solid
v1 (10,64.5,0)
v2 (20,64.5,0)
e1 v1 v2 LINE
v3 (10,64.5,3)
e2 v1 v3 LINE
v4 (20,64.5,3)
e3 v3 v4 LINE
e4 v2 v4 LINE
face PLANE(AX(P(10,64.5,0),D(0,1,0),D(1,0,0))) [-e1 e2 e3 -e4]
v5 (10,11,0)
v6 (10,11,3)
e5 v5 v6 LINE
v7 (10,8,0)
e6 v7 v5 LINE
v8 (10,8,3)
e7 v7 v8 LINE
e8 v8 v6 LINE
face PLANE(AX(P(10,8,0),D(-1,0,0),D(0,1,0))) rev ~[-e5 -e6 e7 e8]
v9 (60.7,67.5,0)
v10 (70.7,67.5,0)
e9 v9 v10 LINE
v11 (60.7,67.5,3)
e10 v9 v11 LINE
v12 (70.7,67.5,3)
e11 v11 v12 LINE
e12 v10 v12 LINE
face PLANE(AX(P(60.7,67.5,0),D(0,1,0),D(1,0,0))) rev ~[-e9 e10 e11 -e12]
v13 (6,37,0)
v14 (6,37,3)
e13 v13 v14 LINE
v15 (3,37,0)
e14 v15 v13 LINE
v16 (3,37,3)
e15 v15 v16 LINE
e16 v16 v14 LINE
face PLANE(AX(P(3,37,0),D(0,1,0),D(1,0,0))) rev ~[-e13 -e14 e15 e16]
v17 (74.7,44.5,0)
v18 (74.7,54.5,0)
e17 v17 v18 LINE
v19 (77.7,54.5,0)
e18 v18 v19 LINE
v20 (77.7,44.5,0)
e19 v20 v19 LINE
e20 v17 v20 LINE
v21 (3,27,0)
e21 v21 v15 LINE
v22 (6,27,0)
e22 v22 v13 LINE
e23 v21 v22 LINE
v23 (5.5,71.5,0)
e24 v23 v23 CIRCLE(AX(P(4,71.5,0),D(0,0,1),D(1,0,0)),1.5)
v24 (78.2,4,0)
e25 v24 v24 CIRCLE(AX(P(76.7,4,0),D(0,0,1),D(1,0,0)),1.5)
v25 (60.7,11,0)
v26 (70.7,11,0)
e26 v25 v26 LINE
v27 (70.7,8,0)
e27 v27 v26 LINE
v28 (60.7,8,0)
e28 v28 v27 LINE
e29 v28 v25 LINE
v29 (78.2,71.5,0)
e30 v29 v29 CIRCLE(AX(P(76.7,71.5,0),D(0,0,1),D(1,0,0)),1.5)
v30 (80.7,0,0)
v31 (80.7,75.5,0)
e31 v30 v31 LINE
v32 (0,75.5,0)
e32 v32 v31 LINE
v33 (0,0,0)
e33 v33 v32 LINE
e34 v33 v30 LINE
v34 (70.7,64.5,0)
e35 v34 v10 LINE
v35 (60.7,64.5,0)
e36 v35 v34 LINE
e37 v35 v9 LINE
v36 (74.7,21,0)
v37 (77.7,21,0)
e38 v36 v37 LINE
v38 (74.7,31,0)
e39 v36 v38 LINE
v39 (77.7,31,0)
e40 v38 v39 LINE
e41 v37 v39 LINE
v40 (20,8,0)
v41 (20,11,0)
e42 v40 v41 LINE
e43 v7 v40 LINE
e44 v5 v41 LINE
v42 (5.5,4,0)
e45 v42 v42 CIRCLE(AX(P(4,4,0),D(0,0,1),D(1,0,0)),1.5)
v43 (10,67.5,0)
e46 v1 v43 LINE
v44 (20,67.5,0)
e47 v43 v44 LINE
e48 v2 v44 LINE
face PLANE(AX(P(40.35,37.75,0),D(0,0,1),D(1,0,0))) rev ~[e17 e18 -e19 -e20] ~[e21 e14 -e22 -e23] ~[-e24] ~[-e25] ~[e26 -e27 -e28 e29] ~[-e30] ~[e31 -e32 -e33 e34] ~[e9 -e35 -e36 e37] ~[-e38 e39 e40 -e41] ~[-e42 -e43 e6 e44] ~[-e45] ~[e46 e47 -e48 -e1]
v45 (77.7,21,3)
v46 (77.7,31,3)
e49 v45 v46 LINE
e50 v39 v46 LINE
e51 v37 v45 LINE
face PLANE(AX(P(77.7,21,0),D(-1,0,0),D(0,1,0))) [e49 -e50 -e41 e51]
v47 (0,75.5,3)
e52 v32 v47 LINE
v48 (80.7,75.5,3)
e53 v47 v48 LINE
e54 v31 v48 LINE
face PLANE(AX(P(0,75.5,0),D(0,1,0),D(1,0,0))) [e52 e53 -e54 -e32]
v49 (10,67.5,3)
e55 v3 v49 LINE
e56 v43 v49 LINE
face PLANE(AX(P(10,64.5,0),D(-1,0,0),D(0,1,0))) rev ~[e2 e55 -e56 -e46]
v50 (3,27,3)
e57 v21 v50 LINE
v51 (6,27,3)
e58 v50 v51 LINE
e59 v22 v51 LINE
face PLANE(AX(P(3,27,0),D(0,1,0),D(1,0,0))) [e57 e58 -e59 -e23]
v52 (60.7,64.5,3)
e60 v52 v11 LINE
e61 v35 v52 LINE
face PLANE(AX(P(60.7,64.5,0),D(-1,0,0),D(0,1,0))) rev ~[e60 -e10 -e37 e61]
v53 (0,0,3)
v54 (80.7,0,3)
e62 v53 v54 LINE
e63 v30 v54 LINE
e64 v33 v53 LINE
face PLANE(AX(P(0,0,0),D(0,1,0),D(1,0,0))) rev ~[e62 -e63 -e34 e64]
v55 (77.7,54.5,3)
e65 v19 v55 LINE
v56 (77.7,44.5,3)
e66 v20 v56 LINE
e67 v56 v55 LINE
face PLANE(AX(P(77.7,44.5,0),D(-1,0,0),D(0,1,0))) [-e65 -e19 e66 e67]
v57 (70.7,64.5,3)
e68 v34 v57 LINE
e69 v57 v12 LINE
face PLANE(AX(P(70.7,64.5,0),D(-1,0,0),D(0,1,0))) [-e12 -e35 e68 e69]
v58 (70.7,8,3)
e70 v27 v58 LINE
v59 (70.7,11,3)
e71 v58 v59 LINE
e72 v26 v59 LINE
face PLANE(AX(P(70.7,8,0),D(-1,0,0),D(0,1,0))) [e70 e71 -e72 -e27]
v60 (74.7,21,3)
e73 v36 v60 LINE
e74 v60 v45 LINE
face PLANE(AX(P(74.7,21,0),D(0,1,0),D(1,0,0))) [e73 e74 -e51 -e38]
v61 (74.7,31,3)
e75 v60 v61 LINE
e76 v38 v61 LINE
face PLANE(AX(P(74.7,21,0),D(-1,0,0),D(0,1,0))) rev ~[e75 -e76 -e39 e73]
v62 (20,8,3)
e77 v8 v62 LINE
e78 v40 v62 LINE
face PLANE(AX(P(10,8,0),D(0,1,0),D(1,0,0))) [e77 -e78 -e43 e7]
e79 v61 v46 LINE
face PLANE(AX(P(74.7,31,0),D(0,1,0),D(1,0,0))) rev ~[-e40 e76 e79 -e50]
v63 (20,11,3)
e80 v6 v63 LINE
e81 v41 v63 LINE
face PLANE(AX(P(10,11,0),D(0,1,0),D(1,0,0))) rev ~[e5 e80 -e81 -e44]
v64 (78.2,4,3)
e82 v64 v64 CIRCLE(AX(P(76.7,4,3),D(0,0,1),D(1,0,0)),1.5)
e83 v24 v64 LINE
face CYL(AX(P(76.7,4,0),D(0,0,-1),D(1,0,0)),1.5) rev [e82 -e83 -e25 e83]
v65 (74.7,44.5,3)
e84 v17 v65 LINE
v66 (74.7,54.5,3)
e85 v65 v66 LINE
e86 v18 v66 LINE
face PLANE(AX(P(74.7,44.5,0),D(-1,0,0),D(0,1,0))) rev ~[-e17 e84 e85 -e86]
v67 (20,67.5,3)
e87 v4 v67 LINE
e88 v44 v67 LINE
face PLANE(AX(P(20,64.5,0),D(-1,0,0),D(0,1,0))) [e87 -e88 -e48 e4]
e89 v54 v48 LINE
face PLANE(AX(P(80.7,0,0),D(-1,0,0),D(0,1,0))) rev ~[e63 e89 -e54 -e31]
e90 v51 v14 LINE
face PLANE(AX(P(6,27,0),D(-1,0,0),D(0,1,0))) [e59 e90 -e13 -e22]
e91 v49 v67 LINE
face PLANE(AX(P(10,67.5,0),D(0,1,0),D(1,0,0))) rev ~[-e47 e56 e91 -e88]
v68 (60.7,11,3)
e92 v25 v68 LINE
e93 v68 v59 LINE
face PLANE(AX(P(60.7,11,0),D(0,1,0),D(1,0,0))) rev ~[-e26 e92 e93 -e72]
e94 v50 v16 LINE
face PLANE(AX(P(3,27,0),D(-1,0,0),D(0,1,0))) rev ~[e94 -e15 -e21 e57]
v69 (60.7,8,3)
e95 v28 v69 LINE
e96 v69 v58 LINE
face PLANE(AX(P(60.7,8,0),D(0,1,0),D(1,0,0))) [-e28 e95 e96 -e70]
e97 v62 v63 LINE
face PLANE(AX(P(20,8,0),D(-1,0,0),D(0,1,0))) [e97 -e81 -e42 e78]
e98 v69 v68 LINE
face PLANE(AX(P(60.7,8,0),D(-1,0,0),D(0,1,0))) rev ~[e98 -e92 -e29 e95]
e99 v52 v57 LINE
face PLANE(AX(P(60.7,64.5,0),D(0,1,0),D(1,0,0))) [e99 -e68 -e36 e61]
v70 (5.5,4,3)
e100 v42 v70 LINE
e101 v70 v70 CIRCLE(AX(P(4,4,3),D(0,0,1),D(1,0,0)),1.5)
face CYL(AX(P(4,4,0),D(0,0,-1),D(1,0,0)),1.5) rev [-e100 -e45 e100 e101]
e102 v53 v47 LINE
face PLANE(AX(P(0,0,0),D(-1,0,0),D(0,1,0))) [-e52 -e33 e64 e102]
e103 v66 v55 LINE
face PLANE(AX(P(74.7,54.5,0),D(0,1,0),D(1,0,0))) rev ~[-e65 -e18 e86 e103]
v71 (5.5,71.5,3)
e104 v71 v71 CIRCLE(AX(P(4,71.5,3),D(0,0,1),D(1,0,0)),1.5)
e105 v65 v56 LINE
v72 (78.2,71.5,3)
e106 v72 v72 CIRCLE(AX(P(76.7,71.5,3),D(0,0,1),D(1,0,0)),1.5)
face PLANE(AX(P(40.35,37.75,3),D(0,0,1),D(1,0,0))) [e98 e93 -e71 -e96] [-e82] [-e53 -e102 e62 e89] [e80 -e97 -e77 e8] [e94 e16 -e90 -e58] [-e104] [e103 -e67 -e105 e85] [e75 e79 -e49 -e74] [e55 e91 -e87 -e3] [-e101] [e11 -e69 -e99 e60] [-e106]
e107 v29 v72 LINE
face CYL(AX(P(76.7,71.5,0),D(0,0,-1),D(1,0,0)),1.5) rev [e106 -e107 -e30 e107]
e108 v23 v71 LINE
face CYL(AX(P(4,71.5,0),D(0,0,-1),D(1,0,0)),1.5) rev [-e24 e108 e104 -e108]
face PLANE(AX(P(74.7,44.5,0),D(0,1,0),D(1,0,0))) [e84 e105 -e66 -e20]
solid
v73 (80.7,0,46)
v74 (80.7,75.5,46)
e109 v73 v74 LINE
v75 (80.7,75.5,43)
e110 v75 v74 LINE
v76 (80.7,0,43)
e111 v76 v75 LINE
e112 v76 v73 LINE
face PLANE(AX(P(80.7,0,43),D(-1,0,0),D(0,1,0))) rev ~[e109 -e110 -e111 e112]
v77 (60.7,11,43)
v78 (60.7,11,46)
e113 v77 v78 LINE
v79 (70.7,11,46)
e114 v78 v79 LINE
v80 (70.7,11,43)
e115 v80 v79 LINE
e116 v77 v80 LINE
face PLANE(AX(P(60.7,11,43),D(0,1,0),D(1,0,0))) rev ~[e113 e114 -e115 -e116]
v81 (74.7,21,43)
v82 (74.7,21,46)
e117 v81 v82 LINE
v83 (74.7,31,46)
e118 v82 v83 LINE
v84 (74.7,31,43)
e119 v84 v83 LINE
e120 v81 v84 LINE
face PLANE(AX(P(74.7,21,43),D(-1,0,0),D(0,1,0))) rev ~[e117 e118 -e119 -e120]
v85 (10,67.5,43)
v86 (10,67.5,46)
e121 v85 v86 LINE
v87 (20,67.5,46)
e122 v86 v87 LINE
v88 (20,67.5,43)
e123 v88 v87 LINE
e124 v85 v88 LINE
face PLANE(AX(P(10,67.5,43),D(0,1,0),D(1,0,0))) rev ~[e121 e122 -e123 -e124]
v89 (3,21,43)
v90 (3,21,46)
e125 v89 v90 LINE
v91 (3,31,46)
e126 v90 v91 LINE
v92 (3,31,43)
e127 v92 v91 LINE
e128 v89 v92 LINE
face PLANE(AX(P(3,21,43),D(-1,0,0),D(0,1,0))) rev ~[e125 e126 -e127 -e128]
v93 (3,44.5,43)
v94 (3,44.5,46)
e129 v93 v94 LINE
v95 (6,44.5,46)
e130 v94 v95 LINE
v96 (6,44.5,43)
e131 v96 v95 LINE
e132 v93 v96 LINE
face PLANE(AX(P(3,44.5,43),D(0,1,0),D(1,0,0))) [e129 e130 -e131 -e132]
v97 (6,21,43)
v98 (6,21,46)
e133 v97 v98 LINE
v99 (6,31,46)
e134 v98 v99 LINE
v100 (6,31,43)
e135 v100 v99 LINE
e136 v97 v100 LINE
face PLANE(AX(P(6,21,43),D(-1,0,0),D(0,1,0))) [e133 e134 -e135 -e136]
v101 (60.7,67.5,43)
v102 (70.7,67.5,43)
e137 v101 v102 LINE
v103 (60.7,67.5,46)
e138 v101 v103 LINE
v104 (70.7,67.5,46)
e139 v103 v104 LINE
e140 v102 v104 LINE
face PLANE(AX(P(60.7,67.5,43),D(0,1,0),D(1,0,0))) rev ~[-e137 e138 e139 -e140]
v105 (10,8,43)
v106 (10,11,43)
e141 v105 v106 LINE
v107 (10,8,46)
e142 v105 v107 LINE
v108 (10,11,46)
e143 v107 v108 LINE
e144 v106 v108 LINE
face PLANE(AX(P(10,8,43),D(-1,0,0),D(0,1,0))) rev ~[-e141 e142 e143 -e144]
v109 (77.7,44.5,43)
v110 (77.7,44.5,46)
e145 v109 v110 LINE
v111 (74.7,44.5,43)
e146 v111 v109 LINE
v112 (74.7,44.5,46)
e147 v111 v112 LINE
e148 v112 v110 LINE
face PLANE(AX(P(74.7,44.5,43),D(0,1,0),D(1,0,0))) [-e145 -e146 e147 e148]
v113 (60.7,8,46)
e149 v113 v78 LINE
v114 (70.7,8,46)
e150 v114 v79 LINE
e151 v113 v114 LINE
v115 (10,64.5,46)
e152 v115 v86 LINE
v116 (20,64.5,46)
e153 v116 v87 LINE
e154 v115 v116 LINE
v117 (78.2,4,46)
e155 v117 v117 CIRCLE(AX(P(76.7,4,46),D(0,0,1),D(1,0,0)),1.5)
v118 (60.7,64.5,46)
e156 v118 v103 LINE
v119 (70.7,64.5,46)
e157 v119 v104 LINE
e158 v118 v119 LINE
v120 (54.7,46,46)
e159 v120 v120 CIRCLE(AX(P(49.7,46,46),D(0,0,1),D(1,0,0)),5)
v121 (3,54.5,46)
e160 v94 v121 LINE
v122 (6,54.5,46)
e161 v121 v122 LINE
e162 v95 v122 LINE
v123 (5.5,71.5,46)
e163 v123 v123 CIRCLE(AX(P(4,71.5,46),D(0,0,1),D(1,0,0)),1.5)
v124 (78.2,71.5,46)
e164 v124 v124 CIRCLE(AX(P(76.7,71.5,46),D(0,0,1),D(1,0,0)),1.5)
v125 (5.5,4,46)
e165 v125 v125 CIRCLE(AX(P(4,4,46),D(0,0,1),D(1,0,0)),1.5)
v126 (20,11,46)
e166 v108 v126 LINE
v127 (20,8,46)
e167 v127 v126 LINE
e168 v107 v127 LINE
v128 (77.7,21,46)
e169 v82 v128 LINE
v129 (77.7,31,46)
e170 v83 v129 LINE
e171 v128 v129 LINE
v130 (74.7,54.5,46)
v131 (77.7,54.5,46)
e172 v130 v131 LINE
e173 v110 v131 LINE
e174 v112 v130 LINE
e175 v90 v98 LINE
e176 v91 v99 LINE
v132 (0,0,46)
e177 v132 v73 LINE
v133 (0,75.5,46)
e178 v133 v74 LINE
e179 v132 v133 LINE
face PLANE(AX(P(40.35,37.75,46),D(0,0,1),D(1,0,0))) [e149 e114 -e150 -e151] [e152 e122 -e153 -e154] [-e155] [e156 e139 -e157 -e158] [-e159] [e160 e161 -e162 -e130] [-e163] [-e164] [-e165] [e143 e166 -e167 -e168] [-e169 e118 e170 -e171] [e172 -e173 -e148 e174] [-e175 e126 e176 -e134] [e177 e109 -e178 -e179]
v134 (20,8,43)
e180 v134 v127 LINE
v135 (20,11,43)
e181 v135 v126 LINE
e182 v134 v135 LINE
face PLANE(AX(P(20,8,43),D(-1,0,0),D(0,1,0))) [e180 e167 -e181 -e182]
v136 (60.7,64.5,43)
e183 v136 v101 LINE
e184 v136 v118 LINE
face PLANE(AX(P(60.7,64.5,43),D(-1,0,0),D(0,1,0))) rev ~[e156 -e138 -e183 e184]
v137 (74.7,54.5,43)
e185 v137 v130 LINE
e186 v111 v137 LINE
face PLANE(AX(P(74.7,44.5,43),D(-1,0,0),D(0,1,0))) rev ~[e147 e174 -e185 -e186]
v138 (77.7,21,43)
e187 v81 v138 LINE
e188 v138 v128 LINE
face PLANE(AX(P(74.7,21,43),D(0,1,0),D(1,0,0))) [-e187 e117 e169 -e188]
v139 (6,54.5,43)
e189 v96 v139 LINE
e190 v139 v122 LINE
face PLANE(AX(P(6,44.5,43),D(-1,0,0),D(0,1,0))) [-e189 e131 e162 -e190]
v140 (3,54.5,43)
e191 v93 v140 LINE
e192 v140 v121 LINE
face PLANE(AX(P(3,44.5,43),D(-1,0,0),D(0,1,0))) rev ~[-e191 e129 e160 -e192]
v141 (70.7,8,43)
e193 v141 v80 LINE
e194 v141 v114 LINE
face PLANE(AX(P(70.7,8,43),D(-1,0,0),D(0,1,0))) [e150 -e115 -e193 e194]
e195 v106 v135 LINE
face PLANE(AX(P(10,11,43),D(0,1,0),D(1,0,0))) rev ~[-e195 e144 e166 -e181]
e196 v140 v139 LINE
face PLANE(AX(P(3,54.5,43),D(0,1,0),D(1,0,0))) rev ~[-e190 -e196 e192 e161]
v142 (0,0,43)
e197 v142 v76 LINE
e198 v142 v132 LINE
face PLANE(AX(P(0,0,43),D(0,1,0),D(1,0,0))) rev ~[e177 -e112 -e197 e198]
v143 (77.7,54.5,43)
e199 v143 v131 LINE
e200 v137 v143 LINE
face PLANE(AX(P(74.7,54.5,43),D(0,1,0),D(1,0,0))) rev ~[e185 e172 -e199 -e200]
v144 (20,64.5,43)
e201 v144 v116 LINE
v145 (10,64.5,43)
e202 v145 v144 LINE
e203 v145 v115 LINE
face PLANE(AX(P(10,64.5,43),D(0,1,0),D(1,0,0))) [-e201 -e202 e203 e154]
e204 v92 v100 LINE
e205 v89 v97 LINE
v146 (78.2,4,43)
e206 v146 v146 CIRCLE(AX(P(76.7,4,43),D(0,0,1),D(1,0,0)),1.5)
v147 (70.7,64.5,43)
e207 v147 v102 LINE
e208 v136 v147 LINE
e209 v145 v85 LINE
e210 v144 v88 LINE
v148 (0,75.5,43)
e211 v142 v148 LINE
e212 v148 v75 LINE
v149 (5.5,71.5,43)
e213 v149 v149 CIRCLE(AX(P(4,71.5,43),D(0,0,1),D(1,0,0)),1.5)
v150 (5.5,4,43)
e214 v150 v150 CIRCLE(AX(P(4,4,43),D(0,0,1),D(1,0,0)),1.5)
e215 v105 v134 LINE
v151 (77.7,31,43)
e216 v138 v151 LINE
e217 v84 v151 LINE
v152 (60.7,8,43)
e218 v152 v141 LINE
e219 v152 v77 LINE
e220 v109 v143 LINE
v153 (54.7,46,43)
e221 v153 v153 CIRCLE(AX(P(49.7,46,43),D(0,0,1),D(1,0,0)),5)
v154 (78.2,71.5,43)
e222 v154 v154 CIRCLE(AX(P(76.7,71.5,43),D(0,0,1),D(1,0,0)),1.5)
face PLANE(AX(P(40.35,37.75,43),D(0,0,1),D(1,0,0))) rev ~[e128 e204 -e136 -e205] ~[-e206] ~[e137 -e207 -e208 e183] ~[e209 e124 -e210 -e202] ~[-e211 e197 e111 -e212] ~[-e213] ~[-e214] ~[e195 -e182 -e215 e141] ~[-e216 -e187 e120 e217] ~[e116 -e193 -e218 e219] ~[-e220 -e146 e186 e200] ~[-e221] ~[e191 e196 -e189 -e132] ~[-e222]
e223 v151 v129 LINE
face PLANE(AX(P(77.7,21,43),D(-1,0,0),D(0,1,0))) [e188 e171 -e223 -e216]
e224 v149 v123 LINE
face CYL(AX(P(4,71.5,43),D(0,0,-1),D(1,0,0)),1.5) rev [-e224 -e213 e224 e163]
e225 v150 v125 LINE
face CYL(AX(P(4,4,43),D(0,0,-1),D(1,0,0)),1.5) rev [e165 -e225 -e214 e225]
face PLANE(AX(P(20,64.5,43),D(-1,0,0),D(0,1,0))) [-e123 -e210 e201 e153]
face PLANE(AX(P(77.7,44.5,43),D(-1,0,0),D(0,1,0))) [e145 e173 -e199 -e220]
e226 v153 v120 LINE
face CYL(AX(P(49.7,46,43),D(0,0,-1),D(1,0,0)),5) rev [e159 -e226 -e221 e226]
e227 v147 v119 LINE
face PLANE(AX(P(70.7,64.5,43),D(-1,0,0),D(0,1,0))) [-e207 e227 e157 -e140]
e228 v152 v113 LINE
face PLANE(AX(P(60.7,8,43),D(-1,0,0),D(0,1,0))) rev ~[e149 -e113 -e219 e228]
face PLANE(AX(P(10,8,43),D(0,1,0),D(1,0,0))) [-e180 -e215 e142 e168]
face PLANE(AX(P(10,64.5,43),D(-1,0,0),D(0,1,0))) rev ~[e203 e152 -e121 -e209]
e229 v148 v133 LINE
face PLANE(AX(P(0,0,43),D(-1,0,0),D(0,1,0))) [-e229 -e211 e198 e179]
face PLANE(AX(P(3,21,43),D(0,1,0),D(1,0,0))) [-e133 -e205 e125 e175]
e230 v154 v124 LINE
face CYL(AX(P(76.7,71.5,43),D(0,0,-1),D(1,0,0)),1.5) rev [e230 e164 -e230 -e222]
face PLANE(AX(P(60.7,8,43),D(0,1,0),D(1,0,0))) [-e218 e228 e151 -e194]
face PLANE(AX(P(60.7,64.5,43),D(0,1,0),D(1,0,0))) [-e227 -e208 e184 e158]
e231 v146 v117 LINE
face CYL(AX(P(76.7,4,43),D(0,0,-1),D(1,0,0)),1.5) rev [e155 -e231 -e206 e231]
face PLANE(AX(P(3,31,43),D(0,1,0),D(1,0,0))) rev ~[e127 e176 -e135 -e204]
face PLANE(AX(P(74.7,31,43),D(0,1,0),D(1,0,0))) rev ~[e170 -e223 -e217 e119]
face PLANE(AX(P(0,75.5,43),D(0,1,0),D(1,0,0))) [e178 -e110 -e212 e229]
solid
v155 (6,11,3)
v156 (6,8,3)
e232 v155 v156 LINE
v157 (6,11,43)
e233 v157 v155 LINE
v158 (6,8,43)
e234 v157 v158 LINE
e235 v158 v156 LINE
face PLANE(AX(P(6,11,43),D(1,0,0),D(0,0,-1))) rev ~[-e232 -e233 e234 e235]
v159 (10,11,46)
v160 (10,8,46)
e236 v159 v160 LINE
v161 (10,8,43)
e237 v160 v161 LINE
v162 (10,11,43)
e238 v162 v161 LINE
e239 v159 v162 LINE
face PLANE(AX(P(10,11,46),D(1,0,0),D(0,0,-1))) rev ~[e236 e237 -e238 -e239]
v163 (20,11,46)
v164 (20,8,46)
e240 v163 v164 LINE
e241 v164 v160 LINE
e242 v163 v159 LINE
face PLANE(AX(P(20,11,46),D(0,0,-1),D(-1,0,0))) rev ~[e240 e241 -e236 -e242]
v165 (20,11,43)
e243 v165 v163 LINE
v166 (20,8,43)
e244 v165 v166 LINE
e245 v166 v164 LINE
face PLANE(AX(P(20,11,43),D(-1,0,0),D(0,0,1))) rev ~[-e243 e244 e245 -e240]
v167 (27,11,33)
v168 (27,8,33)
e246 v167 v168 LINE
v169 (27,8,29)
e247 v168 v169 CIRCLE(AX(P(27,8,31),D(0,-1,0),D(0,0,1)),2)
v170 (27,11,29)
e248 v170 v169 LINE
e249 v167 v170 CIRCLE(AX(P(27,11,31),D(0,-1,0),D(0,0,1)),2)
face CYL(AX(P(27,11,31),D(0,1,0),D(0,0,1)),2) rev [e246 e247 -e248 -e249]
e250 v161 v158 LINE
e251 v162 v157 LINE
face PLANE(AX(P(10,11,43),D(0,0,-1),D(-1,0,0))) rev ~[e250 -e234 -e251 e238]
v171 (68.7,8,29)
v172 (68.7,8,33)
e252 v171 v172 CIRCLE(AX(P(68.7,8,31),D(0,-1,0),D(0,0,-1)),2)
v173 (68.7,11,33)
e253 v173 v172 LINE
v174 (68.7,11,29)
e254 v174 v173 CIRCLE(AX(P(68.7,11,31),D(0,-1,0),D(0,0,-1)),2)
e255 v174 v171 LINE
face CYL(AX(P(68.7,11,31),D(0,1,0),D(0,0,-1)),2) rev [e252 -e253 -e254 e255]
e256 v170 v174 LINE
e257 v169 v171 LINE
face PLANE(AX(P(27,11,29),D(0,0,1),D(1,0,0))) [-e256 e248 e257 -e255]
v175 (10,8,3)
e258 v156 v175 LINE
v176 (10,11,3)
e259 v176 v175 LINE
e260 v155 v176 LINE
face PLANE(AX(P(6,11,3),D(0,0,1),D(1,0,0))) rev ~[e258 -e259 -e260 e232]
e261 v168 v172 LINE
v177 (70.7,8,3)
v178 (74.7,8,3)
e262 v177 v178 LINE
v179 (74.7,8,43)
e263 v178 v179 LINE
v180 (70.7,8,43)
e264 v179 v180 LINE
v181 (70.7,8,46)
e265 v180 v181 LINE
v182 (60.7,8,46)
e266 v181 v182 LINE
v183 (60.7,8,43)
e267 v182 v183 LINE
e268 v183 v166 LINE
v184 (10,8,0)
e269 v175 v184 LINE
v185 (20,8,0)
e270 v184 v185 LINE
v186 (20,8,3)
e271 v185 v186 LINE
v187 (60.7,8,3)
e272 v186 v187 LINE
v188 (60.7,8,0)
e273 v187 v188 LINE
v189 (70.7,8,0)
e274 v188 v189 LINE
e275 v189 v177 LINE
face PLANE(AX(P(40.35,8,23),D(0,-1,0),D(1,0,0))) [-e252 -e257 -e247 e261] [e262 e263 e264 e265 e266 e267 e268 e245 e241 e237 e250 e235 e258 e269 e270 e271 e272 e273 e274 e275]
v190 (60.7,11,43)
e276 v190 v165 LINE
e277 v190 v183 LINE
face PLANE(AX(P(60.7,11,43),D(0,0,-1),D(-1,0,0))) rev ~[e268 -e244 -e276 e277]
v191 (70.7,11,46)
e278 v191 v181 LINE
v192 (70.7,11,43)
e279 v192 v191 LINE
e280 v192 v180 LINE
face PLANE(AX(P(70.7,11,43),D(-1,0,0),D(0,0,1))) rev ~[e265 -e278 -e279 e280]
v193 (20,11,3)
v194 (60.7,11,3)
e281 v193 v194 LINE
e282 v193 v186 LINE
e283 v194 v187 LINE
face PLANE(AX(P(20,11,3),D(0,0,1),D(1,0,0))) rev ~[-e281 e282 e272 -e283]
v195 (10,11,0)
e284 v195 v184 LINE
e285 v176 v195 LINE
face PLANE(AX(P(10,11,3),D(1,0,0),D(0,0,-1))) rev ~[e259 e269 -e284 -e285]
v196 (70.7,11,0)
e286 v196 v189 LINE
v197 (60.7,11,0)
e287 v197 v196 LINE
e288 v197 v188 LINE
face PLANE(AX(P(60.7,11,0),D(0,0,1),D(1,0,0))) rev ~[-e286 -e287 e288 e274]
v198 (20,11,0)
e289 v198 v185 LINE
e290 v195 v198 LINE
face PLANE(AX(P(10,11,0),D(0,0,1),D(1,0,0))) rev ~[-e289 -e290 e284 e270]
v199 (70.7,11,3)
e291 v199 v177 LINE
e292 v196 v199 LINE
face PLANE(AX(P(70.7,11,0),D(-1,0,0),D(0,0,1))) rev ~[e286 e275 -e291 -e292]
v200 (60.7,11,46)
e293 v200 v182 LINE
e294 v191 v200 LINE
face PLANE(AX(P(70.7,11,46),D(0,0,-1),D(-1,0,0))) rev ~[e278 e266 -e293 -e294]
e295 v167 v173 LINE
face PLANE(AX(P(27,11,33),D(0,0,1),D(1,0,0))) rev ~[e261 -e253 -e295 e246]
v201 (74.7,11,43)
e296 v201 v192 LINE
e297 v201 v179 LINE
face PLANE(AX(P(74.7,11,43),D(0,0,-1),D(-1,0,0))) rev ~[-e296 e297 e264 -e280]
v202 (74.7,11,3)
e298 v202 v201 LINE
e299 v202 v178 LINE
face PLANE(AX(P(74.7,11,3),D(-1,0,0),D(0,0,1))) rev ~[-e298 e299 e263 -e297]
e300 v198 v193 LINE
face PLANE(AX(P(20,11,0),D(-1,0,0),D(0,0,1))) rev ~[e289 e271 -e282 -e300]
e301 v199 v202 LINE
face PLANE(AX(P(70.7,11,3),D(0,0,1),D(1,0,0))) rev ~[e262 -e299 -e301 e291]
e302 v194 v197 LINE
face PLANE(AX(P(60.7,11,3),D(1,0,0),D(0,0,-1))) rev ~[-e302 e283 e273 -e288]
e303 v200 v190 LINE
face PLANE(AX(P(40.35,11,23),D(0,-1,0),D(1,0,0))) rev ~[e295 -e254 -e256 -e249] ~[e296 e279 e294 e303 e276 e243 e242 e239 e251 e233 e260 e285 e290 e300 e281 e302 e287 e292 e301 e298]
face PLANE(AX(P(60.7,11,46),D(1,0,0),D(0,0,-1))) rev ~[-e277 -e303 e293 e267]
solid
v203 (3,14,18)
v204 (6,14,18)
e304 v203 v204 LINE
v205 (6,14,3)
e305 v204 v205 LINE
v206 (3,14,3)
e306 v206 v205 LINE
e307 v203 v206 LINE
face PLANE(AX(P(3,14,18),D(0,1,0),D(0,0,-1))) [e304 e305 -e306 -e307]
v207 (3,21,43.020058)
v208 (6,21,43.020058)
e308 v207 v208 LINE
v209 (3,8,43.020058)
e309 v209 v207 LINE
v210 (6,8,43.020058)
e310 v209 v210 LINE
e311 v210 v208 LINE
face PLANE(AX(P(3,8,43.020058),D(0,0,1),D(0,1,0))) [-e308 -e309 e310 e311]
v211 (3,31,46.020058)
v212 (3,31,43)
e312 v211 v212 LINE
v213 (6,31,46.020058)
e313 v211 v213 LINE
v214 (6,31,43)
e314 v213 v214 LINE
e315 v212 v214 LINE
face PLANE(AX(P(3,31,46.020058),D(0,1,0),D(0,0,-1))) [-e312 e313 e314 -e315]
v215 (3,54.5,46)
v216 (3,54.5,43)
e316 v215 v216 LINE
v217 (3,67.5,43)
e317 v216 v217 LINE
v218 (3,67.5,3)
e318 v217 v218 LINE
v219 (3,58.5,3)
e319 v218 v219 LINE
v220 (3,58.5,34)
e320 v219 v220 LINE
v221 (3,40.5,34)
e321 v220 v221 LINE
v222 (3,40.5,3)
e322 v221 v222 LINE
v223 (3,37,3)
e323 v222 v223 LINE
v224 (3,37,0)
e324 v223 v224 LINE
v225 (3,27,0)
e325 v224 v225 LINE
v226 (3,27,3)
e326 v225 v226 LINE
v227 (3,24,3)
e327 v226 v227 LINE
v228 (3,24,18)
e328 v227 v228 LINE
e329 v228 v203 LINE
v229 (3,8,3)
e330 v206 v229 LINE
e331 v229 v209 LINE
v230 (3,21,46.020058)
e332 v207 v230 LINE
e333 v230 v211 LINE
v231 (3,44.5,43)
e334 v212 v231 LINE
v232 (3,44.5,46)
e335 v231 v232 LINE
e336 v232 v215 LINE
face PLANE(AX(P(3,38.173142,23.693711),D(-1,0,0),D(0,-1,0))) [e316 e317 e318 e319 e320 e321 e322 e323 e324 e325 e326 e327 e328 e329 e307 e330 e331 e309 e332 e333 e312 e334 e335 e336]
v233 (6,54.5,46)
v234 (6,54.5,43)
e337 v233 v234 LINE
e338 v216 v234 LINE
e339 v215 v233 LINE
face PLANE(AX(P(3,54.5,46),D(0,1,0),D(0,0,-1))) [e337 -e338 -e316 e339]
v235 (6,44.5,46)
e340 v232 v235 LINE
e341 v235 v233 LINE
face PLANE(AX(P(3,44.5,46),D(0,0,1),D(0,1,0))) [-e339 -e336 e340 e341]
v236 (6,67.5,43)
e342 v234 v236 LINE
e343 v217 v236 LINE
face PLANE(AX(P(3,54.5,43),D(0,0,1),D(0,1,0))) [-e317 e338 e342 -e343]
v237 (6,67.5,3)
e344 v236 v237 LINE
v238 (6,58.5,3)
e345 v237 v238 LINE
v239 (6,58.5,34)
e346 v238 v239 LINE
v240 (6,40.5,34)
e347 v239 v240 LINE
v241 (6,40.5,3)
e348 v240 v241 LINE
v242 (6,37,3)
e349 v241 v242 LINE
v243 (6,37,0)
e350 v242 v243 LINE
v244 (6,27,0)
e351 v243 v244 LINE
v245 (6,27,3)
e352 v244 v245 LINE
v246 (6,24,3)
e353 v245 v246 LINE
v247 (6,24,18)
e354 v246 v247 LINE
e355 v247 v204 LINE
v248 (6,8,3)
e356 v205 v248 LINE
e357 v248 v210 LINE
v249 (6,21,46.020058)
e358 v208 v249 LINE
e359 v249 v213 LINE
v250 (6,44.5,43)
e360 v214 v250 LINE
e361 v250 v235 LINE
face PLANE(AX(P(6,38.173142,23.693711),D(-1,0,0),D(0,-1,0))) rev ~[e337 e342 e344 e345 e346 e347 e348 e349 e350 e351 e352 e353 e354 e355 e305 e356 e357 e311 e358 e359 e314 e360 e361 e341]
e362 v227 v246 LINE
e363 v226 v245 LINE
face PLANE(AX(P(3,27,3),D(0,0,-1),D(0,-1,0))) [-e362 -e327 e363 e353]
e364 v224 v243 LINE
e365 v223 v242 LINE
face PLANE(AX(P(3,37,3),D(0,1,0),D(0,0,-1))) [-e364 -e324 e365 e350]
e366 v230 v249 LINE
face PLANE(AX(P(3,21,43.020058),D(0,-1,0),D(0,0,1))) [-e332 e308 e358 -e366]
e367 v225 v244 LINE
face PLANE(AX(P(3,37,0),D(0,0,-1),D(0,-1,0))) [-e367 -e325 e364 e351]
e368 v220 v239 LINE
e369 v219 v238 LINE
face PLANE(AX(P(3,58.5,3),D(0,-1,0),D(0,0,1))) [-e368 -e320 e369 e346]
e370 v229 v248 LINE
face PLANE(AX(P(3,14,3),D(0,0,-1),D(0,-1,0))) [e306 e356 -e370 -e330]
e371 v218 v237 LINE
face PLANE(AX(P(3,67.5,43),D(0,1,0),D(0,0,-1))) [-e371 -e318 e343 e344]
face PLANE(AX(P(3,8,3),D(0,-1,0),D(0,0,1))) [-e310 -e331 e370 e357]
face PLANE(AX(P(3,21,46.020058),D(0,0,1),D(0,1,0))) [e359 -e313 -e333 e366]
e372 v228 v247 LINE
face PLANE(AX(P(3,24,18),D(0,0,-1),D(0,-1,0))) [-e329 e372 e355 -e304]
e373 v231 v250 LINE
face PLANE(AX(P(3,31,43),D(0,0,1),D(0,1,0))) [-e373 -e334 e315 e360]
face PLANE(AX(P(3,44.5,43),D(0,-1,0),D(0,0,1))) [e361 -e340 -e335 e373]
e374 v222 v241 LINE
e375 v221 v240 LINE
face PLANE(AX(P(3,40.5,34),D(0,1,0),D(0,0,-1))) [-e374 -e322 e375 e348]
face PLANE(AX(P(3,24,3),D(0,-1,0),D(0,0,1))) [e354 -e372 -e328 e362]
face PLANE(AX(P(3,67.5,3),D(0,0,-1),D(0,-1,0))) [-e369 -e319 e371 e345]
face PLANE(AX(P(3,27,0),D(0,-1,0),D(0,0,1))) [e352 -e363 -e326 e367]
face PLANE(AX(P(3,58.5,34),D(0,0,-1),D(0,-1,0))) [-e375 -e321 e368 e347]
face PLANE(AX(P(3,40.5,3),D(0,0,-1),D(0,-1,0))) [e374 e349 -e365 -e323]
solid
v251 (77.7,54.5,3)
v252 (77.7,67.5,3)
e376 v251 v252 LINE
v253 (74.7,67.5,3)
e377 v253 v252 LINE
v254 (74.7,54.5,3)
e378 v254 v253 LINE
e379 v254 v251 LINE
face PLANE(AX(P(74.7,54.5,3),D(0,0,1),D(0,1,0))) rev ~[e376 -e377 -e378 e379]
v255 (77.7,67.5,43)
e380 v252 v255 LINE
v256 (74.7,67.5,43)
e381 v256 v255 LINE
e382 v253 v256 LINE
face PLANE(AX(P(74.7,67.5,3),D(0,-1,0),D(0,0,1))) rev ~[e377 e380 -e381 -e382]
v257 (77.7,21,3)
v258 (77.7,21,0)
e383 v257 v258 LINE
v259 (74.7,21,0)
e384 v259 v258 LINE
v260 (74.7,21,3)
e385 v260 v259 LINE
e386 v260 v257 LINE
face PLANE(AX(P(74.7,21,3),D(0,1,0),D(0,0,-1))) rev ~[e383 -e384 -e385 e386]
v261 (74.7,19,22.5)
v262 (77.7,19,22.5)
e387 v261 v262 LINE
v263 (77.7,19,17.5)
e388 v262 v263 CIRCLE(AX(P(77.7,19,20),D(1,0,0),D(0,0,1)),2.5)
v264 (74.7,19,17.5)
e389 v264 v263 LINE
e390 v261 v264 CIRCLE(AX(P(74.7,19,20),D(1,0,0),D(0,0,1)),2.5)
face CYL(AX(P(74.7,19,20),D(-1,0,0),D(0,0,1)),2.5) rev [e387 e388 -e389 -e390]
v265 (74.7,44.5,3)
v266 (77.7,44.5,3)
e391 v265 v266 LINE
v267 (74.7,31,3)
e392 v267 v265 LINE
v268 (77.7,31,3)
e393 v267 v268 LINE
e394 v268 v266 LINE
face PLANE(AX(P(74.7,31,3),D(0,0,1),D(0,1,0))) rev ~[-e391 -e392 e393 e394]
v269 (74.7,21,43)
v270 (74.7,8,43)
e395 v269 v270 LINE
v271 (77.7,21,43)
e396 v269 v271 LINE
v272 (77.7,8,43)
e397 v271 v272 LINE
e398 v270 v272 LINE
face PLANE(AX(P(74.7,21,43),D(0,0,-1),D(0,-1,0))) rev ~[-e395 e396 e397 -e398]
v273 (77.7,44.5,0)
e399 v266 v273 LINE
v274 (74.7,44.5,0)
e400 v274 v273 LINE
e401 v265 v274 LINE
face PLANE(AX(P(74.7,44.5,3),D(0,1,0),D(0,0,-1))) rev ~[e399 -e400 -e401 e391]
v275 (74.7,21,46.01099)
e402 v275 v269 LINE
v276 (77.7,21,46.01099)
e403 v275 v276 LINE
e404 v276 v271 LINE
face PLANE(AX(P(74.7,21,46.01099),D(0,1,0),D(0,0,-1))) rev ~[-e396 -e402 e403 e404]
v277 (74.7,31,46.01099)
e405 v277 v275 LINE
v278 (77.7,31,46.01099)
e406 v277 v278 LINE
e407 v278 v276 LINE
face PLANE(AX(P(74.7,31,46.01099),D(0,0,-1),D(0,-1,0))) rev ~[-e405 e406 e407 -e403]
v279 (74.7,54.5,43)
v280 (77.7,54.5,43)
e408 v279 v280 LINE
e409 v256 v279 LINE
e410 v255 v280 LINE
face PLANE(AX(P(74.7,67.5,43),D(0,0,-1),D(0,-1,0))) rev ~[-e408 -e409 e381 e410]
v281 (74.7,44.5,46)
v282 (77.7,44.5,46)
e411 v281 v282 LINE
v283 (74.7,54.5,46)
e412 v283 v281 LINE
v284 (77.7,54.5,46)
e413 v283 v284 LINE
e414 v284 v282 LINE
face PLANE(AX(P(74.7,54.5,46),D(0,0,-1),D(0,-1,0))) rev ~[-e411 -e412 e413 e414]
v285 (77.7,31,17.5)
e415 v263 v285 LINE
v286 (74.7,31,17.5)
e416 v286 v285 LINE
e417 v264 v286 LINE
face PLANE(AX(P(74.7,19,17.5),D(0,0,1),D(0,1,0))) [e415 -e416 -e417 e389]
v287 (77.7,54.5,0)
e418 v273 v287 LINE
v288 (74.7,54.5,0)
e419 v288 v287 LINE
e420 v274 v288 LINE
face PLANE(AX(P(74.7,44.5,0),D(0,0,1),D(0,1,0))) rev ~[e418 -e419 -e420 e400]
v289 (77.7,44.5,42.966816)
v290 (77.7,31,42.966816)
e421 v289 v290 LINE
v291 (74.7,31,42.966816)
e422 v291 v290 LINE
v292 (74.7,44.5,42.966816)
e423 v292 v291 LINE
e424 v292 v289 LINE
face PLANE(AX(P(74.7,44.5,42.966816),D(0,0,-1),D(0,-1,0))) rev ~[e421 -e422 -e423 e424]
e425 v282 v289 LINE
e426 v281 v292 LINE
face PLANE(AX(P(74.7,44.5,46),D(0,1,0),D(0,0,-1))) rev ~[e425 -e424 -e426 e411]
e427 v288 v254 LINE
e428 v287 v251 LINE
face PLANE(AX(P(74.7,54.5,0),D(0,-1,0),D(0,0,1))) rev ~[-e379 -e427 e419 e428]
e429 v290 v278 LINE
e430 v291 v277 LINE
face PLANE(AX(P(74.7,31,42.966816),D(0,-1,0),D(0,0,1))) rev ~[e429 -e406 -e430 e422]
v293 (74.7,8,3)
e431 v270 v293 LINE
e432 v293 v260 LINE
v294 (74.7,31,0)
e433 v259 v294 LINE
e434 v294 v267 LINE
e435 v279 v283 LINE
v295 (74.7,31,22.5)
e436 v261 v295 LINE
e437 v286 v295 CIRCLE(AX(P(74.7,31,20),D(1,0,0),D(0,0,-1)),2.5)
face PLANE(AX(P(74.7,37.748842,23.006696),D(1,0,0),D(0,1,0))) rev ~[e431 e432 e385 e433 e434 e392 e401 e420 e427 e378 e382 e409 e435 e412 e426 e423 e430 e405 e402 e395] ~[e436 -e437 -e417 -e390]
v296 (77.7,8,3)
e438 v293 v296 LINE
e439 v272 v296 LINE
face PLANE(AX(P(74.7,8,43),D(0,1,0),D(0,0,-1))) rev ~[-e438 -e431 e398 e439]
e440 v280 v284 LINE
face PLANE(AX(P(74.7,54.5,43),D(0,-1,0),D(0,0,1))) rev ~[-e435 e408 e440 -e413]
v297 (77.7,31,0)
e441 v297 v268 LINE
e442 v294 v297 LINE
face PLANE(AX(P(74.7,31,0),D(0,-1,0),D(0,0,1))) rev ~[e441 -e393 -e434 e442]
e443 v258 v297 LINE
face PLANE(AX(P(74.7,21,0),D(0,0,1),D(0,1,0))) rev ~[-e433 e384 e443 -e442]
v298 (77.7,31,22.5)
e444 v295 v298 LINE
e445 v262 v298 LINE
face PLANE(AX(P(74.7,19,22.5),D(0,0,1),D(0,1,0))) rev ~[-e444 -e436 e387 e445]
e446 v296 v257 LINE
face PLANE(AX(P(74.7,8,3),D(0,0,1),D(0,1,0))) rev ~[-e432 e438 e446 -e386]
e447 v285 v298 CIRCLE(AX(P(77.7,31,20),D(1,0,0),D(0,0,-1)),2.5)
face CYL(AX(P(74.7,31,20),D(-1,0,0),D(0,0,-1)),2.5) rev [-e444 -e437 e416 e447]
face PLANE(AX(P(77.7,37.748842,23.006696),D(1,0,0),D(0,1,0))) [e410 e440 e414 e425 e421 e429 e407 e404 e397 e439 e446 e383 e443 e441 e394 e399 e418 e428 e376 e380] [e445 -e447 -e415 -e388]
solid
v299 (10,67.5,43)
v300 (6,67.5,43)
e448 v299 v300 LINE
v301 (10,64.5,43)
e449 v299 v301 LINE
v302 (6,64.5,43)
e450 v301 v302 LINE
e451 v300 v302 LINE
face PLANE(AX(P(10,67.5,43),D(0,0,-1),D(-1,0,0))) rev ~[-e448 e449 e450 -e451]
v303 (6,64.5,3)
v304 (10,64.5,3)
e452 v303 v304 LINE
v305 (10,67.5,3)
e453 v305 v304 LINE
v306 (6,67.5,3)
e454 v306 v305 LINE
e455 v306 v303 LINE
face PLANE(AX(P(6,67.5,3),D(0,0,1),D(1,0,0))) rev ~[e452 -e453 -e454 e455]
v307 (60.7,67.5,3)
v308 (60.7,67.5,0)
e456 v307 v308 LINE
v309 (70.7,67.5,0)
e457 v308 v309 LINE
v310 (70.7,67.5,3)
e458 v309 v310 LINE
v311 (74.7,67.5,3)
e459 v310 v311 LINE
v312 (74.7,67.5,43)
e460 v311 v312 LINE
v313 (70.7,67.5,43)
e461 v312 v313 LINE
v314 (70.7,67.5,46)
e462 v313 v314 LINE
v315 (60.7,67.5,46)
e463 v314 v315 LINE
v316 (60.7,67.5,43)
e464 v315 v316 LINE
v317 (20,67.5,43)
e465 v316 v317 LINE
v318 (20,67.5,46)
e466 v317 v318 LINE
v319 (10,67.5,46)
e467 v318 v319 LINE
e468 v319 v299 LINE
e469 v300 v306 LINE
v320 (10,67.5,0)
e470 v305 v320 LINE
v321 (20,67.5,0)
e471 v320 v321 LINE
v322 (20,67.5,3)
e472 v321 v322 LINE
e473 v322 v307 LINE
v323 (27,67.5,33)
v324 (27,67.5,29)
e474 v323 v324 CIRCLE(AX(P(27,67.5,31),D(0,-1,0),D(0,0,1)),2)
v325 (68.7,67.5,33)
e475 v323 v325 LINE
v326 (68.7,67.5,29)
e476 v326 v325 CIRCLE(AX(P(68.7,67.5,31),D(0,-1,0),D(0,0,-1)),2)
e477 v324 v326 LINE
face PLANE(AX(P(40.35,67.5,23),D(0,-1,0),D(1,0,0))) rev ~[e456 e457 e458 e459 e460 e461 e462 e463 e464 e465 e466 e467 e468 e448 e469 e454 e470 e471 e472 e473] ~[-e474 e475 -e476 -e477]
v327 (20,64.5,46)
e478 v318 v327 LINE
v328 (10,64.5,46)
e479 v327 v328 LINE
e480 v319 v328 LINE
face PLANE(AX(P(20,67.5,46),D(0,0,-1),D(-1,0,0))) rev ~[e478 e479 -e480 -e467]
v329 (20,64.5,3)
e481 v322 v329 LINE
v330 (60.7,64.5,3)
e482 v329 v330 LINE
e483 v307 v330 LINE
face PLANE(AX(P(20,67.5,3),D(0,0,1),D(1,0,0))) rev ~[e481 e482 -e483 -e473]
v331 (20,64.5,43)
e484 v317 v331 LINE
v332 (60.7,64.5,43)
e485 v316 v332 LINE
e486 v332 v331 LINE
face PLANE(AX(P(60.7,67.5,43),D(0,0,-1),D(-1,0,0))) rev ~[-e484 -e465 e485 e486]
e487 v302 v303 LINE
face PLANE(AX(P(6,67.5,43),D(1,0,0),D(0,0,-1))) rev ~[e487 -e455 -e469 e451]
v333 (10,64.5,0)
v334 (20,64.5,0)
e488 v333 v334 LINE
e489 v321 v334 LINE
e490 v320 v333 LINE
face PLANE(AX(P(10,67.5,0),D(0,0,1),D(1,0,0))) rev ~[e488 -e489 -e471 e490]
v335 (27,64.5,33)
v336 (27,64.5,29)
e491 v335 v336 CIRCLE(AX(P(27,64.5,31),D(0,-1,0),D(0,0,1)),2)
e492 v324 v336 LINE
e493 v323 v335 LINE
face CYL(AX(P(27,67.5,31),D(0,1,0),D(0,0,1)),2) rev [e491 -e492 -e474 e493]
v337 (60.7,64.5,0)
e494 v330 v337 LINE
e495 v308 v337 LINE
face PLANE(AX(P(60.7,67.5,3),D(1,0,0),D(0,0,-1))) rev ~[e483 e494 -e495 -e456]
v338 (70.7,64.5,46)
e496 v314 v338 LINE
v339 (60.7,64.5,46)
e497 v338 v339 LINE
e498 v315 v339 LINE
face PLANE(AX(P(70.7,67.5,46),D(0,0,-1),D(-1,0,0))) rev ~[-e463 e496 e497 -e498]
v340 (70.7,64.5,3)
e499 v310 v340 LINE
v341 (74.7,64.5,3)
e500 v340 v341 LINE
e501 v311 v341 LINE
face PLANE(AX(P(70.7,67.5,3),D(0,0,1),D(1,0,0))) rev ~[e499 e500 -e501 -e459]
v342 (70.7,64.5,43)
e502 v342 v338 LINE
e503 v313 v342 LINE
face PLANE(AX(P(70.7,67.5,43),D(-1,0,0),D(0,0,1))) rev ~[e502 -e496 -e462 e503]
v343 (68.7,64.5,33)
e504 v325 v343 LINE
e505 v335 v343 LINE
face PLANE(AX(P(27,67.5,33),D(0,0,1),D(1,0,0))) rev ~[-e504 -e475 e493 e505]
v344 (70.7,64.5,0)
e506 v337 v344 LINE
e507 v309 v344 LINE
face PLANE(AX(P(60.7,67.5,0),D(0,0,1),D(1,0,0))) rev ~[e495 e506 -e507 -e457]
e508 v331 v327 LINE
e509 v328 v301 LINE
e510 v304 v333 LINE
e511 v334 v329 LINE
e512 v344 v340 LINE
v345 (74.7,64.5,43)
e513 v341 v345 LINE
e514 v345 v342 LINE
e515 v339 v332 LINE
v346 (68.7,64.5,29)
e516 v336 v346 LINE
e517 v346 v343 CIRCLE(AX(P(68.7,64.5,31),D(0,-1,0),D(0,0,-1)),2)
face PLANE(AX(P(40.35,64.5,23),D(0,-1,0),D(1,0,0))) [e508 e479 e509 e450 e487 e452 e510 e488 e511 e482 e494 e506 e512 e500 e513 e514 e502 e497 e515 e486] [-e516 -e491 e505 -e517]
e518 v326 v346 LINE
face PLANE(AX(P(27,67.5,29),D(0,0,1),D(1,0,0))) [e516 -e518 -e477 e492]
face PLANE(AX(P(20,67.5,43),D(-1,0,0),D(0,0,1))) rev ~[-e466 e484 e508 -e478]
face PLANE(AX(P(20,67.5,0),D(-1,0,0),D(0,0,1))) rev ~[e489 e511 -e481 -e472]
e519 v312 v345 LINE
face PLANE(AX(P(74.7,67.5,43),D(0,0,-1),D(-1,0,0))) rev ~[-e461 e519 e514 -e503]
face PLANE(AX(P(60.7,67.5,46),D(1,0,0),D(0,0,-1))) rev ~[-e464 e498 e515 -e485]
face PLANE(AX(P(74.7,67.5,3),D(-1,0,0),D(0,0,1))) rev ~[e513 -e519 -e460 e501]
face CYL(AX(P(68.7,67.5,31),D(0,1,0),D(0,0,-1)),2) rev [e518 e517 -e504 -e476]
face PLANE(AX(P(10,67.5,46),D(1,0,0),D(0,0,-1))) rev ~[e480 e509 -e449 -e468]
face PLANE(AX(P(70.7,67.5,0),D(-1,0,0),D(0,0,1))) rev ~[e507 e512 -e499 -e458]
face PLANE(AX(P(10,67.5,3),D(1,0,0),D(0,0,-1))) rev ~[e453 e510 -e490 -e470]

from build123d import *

# Parameters (mm, degrees)
SKETCH_W      = 80.7
SKETCH_H      = 75.5
SKETCH_R      = 1.5
SKETCH_W_2    = 10
SKETCH_H_2    = 3
SKETCH_W_3    = 3
SKETCH_H_3    = 10
PAD_DEPTH     = 3
PAD001_DEPTH  = 3
PAD002_DEPTH  = 3
PAD003_DEPTH  = 3
SKETCH004_W   = 80.7
SKETCH004_H   = 75.5
SKETCH004_R   = 1.5
SKETCH004_R_2 = 5
SKETCH004_W_2 = 10
SKETCH004_H_2 = 3
SKETCH004_W_3 = 3
SKETCH004_H_3 = 10
PAD004_DEPTH  = 3
PAD005_DEPTH  = 3


with BuildPart() as bottom:
    # Sketch → Pad (new body)
    with BuildSketch(Plane.XY):
        with Locations((40.35, 37.75)):
            Rectangle(SKETCH_W, SKETCH_H)
        with Locations((4, 4)):
            Circle(SKETCH_R, mode=Mode.SUBTRACT)
        with Locations((4, 71.5)):
            Circle(SKETCH_R, mode=Mode.SUBTRACT)
        with Locations((76.7, 71.5)):
            Circle(SKETCH_R, mode=Mode.SUBTRACT)
        with Locations((76.7, 4)):
            Circle(SKETCH_R, mode=Mode.SUBTRACT)
        with Locations((15, 9.5)):
            Rectangle(SKETCH_W_2, SKETCH_H_2, mode=Mode.SUBTRACT)
        with Locations((4.5, 32)):
            Rectangle(SKETCH_W_3, SKETCH_H_3, mode=Mode.SUBTRACT)
        with Locations((15, 66)):
            Rectangle(SKETCH_W_2, SKETCH_H_2, mode=Mode.SUBTRACT)
        with Locations((76.2, 26)):
            Rectangle(SKETCH_W_3, SKETCH_H_3, mode=Mode.SUBTRACT)
        with Locations((65.7, 66)):
            Rectangle(SKETCH_W_2, SKETCH_H_2, mode=Mode.SUBTRACT)
        with Locations((65.7, 9.5)):
            Rectangle(SKETCH_W_2, SKETCH_H_2, mode=Mode.SUBTRACT)
        with Locations((76.2, 49.5)):
            Rectangle(SKETCH_W_3, SKETCH_H_3, mode=Mode.SUBTRACT)
    extrude(amount=PAD_DEPTH)


with BuildPart() as sider:
    # Sketch001 → Pad001 (new body)
    with BuildSketch(Plane.XZ.offset(-11)):
        Polygon((74.7, 3), (74.7, 43), (70.7, 43), (70.7, 46), (60.7, 46), (60.7, 43), (20, 43), (20, 46), (10, 46), (10, 43), (6, 43), (6, 3), (10, 3), (10, 0), (20, 0), (20, 3), (60.7, 3), (60.7, 0), (70.7, 0), (70.7, 3), align=None)
        with BuildLine():
            ThreePointArc((27, 33), (25, 31), (27, 29))
            Line((27, 29), (68.7, 29))
            ThreePointArc((68.7, 29), (70.7, 31), (68.7, 33))
            Line((27, 33), (68.7, 33))
        make_face(mode=Mode.SUBTRACT)
    extrude(amount=PAD001_DEPTH)


with BuildPart() as sidel:
    # Sketch002 → Pad002 (new body)
    with BuildSketch(Plane.XZ.offset(-11)):
        Polygon((74.7, 3), (74.7, 43), (70.7, 43), (70.7, 46), (60.7, 46), (60.7, 43), (20, 43), (20, 46), (10, 46), (10, 43), (6, 43), (6, 3), (10, 3), (10, 0), (20, 0), (20, 3), (60.7, 3), (60.7, 0), (70.7, 0), (70.7, 3), align=None)
        with BuildLine():
            ThreePointArc((27, 33), (25, 31), (27, 29))
            Line((27, 29), (68.7, 29))
            ThreePointArc((68.7, 29), (70.7, 31), (68.7, 33))
            Line((27, 33), (68.7, 33))
        make_face(mode=Mode.SUBTRACT)
    extrude(amount=PAD002_DEPTH)


with BuildPart() as sidel_1:
    # Body002 placement: moved
    add(sidel.part.moved(Location((0, 56.5, 0))))


with BuildPart() as back:
    # Sketch003 → Pad003 (new body)
    with BuildSketch(Plane.YZ.offset(74.7)):
        Polygon((8, 3), (21, 3), (21, 0), (31, 0), (31, 3), (44.5, 3), (44.5, 0), (54.5, 0), (54.5, 3), (67.5, 3), (67.5, 43), (54.5, 43), (54.5, 46), (44.5, 46), (44.5, 42.966816), (31, 42.966816), (31, 46.01099), (21, 46.01099), (21, 43), (8, 43), align=None)
        with BuildLine():
            ThreePointArc((19, 22.5), (16.5, 20), (19, 17.5))
            Line((19, 17.5), (31, 17.5))
            ThreePointArc((31, 17.5), (33.5, 20), (31, 22.5))
            Line((19, 22.5), (31, 22.5))
        make_face(mode=Mode.SUBTRACT)
    extrude(amount=PAD003_DEPTH)


with BuildPart() as top:
    # Sketch004 → Pad004 (new body)
    with BuildSketch(Plane.XY):
        with Locations((40.35, 37.75)):
            Rectangle(SKETCH004_W, SKETCH004_H)
        with Locations((4, 4)):
            Circle(SKETCH004_R, mode=Mode.SUBTRACT)
        with Locations((4, 71.5)):
            Circle(SKETCH004_R, mode=Mode.SUBTRACT)
        with Locations((76.7, 71.5)):
            Circle(SKETCH004_R, mode=Mode.SUBTRACT)
        with Locations((76.7, 4)):
            Circle(SKETCH004_R, mode=Mode.SUBTRACT)
        with Locations((49.7, 46)):
            Circle(SKETCH004_R_2, mode=Mode.SUBTRACT)
        with Locations((15, 9.5)):
            Rectangle(SKETCH004_W_2, SKETCH004_H_2, mode=Mode.SUBTRACT)
        with Locations((4.5, 26)):
            Rectangle(SKETCH004_W_3, SKETCH004_H_3, mode=Mode.SUBTRACT)
        with Locations((15, 66)):
            Rectangle(SKETCH004_W_2, SKETCH004_H_2, mode=Mode.SUBTRACT)
        with Locations((76.2, 26)):
            Rectangle(SKETCH004_W_3, SKETCH004_H_3, mode=Mode.SUBTRACT)
        with Locations((65.7, 66)):
            Rectangle(SKETCH004_W_2, SKETCH004_H_2, mode=Mode.SUBTRACT)
        with Locations((65.7, 9.5)):
            Rectangle(SKETCH004_W_2, SKETCH004_H_2, mode=Mode.SUBTRACT)
        with Locations((76.2, 49.5)):
            Rectangle(SKETCH004_W_3, SKETCH004_H_3, mode=Mode.SUBTRACT)
        with Locations((4.5, 49.5)):
            Rectangle(SKETCH004_W_3, SKETCH004_H_3, mode=Mode.SUBTRACT)
    extrude(amount=PAD004_DEPTH)


with BuildPart() as top_1:
    # Body004 placement: moved
    add(top.part.moved(Location((0, 0, 43))))


with BuildPart() as front:
    # Sketch005 → Pad005 (new body)
    with BuildSketch(Plane.YZ):
        Polygon((8, 3), (8, 43.020058), (21, 43.020058), (21, 46.020058), (31, 46.020058), (31, 43), (44.5, 43), (44.5, 46), (54.5, 46), (54.5, 43), (67.5, 43), (67.5, 3), (58.5, 3), (58.5, 34), (40.5, 34), (40.5, 3), (37, 3), (37, 0), (27, 0), (27, 3), (24, 3), (24, 18), (14, 18), (14, 3), align=None)
    extrude(amount=PAD005_DEPTH)


with BuildPart() as front_1:
    # Body005 placement: moved
    add(front.part.moved(Location((3, 0, 0))))


solid = Compound([bottom.part, sider.part, sidel_1.part, back.part, top_1.part, front_1.part])
